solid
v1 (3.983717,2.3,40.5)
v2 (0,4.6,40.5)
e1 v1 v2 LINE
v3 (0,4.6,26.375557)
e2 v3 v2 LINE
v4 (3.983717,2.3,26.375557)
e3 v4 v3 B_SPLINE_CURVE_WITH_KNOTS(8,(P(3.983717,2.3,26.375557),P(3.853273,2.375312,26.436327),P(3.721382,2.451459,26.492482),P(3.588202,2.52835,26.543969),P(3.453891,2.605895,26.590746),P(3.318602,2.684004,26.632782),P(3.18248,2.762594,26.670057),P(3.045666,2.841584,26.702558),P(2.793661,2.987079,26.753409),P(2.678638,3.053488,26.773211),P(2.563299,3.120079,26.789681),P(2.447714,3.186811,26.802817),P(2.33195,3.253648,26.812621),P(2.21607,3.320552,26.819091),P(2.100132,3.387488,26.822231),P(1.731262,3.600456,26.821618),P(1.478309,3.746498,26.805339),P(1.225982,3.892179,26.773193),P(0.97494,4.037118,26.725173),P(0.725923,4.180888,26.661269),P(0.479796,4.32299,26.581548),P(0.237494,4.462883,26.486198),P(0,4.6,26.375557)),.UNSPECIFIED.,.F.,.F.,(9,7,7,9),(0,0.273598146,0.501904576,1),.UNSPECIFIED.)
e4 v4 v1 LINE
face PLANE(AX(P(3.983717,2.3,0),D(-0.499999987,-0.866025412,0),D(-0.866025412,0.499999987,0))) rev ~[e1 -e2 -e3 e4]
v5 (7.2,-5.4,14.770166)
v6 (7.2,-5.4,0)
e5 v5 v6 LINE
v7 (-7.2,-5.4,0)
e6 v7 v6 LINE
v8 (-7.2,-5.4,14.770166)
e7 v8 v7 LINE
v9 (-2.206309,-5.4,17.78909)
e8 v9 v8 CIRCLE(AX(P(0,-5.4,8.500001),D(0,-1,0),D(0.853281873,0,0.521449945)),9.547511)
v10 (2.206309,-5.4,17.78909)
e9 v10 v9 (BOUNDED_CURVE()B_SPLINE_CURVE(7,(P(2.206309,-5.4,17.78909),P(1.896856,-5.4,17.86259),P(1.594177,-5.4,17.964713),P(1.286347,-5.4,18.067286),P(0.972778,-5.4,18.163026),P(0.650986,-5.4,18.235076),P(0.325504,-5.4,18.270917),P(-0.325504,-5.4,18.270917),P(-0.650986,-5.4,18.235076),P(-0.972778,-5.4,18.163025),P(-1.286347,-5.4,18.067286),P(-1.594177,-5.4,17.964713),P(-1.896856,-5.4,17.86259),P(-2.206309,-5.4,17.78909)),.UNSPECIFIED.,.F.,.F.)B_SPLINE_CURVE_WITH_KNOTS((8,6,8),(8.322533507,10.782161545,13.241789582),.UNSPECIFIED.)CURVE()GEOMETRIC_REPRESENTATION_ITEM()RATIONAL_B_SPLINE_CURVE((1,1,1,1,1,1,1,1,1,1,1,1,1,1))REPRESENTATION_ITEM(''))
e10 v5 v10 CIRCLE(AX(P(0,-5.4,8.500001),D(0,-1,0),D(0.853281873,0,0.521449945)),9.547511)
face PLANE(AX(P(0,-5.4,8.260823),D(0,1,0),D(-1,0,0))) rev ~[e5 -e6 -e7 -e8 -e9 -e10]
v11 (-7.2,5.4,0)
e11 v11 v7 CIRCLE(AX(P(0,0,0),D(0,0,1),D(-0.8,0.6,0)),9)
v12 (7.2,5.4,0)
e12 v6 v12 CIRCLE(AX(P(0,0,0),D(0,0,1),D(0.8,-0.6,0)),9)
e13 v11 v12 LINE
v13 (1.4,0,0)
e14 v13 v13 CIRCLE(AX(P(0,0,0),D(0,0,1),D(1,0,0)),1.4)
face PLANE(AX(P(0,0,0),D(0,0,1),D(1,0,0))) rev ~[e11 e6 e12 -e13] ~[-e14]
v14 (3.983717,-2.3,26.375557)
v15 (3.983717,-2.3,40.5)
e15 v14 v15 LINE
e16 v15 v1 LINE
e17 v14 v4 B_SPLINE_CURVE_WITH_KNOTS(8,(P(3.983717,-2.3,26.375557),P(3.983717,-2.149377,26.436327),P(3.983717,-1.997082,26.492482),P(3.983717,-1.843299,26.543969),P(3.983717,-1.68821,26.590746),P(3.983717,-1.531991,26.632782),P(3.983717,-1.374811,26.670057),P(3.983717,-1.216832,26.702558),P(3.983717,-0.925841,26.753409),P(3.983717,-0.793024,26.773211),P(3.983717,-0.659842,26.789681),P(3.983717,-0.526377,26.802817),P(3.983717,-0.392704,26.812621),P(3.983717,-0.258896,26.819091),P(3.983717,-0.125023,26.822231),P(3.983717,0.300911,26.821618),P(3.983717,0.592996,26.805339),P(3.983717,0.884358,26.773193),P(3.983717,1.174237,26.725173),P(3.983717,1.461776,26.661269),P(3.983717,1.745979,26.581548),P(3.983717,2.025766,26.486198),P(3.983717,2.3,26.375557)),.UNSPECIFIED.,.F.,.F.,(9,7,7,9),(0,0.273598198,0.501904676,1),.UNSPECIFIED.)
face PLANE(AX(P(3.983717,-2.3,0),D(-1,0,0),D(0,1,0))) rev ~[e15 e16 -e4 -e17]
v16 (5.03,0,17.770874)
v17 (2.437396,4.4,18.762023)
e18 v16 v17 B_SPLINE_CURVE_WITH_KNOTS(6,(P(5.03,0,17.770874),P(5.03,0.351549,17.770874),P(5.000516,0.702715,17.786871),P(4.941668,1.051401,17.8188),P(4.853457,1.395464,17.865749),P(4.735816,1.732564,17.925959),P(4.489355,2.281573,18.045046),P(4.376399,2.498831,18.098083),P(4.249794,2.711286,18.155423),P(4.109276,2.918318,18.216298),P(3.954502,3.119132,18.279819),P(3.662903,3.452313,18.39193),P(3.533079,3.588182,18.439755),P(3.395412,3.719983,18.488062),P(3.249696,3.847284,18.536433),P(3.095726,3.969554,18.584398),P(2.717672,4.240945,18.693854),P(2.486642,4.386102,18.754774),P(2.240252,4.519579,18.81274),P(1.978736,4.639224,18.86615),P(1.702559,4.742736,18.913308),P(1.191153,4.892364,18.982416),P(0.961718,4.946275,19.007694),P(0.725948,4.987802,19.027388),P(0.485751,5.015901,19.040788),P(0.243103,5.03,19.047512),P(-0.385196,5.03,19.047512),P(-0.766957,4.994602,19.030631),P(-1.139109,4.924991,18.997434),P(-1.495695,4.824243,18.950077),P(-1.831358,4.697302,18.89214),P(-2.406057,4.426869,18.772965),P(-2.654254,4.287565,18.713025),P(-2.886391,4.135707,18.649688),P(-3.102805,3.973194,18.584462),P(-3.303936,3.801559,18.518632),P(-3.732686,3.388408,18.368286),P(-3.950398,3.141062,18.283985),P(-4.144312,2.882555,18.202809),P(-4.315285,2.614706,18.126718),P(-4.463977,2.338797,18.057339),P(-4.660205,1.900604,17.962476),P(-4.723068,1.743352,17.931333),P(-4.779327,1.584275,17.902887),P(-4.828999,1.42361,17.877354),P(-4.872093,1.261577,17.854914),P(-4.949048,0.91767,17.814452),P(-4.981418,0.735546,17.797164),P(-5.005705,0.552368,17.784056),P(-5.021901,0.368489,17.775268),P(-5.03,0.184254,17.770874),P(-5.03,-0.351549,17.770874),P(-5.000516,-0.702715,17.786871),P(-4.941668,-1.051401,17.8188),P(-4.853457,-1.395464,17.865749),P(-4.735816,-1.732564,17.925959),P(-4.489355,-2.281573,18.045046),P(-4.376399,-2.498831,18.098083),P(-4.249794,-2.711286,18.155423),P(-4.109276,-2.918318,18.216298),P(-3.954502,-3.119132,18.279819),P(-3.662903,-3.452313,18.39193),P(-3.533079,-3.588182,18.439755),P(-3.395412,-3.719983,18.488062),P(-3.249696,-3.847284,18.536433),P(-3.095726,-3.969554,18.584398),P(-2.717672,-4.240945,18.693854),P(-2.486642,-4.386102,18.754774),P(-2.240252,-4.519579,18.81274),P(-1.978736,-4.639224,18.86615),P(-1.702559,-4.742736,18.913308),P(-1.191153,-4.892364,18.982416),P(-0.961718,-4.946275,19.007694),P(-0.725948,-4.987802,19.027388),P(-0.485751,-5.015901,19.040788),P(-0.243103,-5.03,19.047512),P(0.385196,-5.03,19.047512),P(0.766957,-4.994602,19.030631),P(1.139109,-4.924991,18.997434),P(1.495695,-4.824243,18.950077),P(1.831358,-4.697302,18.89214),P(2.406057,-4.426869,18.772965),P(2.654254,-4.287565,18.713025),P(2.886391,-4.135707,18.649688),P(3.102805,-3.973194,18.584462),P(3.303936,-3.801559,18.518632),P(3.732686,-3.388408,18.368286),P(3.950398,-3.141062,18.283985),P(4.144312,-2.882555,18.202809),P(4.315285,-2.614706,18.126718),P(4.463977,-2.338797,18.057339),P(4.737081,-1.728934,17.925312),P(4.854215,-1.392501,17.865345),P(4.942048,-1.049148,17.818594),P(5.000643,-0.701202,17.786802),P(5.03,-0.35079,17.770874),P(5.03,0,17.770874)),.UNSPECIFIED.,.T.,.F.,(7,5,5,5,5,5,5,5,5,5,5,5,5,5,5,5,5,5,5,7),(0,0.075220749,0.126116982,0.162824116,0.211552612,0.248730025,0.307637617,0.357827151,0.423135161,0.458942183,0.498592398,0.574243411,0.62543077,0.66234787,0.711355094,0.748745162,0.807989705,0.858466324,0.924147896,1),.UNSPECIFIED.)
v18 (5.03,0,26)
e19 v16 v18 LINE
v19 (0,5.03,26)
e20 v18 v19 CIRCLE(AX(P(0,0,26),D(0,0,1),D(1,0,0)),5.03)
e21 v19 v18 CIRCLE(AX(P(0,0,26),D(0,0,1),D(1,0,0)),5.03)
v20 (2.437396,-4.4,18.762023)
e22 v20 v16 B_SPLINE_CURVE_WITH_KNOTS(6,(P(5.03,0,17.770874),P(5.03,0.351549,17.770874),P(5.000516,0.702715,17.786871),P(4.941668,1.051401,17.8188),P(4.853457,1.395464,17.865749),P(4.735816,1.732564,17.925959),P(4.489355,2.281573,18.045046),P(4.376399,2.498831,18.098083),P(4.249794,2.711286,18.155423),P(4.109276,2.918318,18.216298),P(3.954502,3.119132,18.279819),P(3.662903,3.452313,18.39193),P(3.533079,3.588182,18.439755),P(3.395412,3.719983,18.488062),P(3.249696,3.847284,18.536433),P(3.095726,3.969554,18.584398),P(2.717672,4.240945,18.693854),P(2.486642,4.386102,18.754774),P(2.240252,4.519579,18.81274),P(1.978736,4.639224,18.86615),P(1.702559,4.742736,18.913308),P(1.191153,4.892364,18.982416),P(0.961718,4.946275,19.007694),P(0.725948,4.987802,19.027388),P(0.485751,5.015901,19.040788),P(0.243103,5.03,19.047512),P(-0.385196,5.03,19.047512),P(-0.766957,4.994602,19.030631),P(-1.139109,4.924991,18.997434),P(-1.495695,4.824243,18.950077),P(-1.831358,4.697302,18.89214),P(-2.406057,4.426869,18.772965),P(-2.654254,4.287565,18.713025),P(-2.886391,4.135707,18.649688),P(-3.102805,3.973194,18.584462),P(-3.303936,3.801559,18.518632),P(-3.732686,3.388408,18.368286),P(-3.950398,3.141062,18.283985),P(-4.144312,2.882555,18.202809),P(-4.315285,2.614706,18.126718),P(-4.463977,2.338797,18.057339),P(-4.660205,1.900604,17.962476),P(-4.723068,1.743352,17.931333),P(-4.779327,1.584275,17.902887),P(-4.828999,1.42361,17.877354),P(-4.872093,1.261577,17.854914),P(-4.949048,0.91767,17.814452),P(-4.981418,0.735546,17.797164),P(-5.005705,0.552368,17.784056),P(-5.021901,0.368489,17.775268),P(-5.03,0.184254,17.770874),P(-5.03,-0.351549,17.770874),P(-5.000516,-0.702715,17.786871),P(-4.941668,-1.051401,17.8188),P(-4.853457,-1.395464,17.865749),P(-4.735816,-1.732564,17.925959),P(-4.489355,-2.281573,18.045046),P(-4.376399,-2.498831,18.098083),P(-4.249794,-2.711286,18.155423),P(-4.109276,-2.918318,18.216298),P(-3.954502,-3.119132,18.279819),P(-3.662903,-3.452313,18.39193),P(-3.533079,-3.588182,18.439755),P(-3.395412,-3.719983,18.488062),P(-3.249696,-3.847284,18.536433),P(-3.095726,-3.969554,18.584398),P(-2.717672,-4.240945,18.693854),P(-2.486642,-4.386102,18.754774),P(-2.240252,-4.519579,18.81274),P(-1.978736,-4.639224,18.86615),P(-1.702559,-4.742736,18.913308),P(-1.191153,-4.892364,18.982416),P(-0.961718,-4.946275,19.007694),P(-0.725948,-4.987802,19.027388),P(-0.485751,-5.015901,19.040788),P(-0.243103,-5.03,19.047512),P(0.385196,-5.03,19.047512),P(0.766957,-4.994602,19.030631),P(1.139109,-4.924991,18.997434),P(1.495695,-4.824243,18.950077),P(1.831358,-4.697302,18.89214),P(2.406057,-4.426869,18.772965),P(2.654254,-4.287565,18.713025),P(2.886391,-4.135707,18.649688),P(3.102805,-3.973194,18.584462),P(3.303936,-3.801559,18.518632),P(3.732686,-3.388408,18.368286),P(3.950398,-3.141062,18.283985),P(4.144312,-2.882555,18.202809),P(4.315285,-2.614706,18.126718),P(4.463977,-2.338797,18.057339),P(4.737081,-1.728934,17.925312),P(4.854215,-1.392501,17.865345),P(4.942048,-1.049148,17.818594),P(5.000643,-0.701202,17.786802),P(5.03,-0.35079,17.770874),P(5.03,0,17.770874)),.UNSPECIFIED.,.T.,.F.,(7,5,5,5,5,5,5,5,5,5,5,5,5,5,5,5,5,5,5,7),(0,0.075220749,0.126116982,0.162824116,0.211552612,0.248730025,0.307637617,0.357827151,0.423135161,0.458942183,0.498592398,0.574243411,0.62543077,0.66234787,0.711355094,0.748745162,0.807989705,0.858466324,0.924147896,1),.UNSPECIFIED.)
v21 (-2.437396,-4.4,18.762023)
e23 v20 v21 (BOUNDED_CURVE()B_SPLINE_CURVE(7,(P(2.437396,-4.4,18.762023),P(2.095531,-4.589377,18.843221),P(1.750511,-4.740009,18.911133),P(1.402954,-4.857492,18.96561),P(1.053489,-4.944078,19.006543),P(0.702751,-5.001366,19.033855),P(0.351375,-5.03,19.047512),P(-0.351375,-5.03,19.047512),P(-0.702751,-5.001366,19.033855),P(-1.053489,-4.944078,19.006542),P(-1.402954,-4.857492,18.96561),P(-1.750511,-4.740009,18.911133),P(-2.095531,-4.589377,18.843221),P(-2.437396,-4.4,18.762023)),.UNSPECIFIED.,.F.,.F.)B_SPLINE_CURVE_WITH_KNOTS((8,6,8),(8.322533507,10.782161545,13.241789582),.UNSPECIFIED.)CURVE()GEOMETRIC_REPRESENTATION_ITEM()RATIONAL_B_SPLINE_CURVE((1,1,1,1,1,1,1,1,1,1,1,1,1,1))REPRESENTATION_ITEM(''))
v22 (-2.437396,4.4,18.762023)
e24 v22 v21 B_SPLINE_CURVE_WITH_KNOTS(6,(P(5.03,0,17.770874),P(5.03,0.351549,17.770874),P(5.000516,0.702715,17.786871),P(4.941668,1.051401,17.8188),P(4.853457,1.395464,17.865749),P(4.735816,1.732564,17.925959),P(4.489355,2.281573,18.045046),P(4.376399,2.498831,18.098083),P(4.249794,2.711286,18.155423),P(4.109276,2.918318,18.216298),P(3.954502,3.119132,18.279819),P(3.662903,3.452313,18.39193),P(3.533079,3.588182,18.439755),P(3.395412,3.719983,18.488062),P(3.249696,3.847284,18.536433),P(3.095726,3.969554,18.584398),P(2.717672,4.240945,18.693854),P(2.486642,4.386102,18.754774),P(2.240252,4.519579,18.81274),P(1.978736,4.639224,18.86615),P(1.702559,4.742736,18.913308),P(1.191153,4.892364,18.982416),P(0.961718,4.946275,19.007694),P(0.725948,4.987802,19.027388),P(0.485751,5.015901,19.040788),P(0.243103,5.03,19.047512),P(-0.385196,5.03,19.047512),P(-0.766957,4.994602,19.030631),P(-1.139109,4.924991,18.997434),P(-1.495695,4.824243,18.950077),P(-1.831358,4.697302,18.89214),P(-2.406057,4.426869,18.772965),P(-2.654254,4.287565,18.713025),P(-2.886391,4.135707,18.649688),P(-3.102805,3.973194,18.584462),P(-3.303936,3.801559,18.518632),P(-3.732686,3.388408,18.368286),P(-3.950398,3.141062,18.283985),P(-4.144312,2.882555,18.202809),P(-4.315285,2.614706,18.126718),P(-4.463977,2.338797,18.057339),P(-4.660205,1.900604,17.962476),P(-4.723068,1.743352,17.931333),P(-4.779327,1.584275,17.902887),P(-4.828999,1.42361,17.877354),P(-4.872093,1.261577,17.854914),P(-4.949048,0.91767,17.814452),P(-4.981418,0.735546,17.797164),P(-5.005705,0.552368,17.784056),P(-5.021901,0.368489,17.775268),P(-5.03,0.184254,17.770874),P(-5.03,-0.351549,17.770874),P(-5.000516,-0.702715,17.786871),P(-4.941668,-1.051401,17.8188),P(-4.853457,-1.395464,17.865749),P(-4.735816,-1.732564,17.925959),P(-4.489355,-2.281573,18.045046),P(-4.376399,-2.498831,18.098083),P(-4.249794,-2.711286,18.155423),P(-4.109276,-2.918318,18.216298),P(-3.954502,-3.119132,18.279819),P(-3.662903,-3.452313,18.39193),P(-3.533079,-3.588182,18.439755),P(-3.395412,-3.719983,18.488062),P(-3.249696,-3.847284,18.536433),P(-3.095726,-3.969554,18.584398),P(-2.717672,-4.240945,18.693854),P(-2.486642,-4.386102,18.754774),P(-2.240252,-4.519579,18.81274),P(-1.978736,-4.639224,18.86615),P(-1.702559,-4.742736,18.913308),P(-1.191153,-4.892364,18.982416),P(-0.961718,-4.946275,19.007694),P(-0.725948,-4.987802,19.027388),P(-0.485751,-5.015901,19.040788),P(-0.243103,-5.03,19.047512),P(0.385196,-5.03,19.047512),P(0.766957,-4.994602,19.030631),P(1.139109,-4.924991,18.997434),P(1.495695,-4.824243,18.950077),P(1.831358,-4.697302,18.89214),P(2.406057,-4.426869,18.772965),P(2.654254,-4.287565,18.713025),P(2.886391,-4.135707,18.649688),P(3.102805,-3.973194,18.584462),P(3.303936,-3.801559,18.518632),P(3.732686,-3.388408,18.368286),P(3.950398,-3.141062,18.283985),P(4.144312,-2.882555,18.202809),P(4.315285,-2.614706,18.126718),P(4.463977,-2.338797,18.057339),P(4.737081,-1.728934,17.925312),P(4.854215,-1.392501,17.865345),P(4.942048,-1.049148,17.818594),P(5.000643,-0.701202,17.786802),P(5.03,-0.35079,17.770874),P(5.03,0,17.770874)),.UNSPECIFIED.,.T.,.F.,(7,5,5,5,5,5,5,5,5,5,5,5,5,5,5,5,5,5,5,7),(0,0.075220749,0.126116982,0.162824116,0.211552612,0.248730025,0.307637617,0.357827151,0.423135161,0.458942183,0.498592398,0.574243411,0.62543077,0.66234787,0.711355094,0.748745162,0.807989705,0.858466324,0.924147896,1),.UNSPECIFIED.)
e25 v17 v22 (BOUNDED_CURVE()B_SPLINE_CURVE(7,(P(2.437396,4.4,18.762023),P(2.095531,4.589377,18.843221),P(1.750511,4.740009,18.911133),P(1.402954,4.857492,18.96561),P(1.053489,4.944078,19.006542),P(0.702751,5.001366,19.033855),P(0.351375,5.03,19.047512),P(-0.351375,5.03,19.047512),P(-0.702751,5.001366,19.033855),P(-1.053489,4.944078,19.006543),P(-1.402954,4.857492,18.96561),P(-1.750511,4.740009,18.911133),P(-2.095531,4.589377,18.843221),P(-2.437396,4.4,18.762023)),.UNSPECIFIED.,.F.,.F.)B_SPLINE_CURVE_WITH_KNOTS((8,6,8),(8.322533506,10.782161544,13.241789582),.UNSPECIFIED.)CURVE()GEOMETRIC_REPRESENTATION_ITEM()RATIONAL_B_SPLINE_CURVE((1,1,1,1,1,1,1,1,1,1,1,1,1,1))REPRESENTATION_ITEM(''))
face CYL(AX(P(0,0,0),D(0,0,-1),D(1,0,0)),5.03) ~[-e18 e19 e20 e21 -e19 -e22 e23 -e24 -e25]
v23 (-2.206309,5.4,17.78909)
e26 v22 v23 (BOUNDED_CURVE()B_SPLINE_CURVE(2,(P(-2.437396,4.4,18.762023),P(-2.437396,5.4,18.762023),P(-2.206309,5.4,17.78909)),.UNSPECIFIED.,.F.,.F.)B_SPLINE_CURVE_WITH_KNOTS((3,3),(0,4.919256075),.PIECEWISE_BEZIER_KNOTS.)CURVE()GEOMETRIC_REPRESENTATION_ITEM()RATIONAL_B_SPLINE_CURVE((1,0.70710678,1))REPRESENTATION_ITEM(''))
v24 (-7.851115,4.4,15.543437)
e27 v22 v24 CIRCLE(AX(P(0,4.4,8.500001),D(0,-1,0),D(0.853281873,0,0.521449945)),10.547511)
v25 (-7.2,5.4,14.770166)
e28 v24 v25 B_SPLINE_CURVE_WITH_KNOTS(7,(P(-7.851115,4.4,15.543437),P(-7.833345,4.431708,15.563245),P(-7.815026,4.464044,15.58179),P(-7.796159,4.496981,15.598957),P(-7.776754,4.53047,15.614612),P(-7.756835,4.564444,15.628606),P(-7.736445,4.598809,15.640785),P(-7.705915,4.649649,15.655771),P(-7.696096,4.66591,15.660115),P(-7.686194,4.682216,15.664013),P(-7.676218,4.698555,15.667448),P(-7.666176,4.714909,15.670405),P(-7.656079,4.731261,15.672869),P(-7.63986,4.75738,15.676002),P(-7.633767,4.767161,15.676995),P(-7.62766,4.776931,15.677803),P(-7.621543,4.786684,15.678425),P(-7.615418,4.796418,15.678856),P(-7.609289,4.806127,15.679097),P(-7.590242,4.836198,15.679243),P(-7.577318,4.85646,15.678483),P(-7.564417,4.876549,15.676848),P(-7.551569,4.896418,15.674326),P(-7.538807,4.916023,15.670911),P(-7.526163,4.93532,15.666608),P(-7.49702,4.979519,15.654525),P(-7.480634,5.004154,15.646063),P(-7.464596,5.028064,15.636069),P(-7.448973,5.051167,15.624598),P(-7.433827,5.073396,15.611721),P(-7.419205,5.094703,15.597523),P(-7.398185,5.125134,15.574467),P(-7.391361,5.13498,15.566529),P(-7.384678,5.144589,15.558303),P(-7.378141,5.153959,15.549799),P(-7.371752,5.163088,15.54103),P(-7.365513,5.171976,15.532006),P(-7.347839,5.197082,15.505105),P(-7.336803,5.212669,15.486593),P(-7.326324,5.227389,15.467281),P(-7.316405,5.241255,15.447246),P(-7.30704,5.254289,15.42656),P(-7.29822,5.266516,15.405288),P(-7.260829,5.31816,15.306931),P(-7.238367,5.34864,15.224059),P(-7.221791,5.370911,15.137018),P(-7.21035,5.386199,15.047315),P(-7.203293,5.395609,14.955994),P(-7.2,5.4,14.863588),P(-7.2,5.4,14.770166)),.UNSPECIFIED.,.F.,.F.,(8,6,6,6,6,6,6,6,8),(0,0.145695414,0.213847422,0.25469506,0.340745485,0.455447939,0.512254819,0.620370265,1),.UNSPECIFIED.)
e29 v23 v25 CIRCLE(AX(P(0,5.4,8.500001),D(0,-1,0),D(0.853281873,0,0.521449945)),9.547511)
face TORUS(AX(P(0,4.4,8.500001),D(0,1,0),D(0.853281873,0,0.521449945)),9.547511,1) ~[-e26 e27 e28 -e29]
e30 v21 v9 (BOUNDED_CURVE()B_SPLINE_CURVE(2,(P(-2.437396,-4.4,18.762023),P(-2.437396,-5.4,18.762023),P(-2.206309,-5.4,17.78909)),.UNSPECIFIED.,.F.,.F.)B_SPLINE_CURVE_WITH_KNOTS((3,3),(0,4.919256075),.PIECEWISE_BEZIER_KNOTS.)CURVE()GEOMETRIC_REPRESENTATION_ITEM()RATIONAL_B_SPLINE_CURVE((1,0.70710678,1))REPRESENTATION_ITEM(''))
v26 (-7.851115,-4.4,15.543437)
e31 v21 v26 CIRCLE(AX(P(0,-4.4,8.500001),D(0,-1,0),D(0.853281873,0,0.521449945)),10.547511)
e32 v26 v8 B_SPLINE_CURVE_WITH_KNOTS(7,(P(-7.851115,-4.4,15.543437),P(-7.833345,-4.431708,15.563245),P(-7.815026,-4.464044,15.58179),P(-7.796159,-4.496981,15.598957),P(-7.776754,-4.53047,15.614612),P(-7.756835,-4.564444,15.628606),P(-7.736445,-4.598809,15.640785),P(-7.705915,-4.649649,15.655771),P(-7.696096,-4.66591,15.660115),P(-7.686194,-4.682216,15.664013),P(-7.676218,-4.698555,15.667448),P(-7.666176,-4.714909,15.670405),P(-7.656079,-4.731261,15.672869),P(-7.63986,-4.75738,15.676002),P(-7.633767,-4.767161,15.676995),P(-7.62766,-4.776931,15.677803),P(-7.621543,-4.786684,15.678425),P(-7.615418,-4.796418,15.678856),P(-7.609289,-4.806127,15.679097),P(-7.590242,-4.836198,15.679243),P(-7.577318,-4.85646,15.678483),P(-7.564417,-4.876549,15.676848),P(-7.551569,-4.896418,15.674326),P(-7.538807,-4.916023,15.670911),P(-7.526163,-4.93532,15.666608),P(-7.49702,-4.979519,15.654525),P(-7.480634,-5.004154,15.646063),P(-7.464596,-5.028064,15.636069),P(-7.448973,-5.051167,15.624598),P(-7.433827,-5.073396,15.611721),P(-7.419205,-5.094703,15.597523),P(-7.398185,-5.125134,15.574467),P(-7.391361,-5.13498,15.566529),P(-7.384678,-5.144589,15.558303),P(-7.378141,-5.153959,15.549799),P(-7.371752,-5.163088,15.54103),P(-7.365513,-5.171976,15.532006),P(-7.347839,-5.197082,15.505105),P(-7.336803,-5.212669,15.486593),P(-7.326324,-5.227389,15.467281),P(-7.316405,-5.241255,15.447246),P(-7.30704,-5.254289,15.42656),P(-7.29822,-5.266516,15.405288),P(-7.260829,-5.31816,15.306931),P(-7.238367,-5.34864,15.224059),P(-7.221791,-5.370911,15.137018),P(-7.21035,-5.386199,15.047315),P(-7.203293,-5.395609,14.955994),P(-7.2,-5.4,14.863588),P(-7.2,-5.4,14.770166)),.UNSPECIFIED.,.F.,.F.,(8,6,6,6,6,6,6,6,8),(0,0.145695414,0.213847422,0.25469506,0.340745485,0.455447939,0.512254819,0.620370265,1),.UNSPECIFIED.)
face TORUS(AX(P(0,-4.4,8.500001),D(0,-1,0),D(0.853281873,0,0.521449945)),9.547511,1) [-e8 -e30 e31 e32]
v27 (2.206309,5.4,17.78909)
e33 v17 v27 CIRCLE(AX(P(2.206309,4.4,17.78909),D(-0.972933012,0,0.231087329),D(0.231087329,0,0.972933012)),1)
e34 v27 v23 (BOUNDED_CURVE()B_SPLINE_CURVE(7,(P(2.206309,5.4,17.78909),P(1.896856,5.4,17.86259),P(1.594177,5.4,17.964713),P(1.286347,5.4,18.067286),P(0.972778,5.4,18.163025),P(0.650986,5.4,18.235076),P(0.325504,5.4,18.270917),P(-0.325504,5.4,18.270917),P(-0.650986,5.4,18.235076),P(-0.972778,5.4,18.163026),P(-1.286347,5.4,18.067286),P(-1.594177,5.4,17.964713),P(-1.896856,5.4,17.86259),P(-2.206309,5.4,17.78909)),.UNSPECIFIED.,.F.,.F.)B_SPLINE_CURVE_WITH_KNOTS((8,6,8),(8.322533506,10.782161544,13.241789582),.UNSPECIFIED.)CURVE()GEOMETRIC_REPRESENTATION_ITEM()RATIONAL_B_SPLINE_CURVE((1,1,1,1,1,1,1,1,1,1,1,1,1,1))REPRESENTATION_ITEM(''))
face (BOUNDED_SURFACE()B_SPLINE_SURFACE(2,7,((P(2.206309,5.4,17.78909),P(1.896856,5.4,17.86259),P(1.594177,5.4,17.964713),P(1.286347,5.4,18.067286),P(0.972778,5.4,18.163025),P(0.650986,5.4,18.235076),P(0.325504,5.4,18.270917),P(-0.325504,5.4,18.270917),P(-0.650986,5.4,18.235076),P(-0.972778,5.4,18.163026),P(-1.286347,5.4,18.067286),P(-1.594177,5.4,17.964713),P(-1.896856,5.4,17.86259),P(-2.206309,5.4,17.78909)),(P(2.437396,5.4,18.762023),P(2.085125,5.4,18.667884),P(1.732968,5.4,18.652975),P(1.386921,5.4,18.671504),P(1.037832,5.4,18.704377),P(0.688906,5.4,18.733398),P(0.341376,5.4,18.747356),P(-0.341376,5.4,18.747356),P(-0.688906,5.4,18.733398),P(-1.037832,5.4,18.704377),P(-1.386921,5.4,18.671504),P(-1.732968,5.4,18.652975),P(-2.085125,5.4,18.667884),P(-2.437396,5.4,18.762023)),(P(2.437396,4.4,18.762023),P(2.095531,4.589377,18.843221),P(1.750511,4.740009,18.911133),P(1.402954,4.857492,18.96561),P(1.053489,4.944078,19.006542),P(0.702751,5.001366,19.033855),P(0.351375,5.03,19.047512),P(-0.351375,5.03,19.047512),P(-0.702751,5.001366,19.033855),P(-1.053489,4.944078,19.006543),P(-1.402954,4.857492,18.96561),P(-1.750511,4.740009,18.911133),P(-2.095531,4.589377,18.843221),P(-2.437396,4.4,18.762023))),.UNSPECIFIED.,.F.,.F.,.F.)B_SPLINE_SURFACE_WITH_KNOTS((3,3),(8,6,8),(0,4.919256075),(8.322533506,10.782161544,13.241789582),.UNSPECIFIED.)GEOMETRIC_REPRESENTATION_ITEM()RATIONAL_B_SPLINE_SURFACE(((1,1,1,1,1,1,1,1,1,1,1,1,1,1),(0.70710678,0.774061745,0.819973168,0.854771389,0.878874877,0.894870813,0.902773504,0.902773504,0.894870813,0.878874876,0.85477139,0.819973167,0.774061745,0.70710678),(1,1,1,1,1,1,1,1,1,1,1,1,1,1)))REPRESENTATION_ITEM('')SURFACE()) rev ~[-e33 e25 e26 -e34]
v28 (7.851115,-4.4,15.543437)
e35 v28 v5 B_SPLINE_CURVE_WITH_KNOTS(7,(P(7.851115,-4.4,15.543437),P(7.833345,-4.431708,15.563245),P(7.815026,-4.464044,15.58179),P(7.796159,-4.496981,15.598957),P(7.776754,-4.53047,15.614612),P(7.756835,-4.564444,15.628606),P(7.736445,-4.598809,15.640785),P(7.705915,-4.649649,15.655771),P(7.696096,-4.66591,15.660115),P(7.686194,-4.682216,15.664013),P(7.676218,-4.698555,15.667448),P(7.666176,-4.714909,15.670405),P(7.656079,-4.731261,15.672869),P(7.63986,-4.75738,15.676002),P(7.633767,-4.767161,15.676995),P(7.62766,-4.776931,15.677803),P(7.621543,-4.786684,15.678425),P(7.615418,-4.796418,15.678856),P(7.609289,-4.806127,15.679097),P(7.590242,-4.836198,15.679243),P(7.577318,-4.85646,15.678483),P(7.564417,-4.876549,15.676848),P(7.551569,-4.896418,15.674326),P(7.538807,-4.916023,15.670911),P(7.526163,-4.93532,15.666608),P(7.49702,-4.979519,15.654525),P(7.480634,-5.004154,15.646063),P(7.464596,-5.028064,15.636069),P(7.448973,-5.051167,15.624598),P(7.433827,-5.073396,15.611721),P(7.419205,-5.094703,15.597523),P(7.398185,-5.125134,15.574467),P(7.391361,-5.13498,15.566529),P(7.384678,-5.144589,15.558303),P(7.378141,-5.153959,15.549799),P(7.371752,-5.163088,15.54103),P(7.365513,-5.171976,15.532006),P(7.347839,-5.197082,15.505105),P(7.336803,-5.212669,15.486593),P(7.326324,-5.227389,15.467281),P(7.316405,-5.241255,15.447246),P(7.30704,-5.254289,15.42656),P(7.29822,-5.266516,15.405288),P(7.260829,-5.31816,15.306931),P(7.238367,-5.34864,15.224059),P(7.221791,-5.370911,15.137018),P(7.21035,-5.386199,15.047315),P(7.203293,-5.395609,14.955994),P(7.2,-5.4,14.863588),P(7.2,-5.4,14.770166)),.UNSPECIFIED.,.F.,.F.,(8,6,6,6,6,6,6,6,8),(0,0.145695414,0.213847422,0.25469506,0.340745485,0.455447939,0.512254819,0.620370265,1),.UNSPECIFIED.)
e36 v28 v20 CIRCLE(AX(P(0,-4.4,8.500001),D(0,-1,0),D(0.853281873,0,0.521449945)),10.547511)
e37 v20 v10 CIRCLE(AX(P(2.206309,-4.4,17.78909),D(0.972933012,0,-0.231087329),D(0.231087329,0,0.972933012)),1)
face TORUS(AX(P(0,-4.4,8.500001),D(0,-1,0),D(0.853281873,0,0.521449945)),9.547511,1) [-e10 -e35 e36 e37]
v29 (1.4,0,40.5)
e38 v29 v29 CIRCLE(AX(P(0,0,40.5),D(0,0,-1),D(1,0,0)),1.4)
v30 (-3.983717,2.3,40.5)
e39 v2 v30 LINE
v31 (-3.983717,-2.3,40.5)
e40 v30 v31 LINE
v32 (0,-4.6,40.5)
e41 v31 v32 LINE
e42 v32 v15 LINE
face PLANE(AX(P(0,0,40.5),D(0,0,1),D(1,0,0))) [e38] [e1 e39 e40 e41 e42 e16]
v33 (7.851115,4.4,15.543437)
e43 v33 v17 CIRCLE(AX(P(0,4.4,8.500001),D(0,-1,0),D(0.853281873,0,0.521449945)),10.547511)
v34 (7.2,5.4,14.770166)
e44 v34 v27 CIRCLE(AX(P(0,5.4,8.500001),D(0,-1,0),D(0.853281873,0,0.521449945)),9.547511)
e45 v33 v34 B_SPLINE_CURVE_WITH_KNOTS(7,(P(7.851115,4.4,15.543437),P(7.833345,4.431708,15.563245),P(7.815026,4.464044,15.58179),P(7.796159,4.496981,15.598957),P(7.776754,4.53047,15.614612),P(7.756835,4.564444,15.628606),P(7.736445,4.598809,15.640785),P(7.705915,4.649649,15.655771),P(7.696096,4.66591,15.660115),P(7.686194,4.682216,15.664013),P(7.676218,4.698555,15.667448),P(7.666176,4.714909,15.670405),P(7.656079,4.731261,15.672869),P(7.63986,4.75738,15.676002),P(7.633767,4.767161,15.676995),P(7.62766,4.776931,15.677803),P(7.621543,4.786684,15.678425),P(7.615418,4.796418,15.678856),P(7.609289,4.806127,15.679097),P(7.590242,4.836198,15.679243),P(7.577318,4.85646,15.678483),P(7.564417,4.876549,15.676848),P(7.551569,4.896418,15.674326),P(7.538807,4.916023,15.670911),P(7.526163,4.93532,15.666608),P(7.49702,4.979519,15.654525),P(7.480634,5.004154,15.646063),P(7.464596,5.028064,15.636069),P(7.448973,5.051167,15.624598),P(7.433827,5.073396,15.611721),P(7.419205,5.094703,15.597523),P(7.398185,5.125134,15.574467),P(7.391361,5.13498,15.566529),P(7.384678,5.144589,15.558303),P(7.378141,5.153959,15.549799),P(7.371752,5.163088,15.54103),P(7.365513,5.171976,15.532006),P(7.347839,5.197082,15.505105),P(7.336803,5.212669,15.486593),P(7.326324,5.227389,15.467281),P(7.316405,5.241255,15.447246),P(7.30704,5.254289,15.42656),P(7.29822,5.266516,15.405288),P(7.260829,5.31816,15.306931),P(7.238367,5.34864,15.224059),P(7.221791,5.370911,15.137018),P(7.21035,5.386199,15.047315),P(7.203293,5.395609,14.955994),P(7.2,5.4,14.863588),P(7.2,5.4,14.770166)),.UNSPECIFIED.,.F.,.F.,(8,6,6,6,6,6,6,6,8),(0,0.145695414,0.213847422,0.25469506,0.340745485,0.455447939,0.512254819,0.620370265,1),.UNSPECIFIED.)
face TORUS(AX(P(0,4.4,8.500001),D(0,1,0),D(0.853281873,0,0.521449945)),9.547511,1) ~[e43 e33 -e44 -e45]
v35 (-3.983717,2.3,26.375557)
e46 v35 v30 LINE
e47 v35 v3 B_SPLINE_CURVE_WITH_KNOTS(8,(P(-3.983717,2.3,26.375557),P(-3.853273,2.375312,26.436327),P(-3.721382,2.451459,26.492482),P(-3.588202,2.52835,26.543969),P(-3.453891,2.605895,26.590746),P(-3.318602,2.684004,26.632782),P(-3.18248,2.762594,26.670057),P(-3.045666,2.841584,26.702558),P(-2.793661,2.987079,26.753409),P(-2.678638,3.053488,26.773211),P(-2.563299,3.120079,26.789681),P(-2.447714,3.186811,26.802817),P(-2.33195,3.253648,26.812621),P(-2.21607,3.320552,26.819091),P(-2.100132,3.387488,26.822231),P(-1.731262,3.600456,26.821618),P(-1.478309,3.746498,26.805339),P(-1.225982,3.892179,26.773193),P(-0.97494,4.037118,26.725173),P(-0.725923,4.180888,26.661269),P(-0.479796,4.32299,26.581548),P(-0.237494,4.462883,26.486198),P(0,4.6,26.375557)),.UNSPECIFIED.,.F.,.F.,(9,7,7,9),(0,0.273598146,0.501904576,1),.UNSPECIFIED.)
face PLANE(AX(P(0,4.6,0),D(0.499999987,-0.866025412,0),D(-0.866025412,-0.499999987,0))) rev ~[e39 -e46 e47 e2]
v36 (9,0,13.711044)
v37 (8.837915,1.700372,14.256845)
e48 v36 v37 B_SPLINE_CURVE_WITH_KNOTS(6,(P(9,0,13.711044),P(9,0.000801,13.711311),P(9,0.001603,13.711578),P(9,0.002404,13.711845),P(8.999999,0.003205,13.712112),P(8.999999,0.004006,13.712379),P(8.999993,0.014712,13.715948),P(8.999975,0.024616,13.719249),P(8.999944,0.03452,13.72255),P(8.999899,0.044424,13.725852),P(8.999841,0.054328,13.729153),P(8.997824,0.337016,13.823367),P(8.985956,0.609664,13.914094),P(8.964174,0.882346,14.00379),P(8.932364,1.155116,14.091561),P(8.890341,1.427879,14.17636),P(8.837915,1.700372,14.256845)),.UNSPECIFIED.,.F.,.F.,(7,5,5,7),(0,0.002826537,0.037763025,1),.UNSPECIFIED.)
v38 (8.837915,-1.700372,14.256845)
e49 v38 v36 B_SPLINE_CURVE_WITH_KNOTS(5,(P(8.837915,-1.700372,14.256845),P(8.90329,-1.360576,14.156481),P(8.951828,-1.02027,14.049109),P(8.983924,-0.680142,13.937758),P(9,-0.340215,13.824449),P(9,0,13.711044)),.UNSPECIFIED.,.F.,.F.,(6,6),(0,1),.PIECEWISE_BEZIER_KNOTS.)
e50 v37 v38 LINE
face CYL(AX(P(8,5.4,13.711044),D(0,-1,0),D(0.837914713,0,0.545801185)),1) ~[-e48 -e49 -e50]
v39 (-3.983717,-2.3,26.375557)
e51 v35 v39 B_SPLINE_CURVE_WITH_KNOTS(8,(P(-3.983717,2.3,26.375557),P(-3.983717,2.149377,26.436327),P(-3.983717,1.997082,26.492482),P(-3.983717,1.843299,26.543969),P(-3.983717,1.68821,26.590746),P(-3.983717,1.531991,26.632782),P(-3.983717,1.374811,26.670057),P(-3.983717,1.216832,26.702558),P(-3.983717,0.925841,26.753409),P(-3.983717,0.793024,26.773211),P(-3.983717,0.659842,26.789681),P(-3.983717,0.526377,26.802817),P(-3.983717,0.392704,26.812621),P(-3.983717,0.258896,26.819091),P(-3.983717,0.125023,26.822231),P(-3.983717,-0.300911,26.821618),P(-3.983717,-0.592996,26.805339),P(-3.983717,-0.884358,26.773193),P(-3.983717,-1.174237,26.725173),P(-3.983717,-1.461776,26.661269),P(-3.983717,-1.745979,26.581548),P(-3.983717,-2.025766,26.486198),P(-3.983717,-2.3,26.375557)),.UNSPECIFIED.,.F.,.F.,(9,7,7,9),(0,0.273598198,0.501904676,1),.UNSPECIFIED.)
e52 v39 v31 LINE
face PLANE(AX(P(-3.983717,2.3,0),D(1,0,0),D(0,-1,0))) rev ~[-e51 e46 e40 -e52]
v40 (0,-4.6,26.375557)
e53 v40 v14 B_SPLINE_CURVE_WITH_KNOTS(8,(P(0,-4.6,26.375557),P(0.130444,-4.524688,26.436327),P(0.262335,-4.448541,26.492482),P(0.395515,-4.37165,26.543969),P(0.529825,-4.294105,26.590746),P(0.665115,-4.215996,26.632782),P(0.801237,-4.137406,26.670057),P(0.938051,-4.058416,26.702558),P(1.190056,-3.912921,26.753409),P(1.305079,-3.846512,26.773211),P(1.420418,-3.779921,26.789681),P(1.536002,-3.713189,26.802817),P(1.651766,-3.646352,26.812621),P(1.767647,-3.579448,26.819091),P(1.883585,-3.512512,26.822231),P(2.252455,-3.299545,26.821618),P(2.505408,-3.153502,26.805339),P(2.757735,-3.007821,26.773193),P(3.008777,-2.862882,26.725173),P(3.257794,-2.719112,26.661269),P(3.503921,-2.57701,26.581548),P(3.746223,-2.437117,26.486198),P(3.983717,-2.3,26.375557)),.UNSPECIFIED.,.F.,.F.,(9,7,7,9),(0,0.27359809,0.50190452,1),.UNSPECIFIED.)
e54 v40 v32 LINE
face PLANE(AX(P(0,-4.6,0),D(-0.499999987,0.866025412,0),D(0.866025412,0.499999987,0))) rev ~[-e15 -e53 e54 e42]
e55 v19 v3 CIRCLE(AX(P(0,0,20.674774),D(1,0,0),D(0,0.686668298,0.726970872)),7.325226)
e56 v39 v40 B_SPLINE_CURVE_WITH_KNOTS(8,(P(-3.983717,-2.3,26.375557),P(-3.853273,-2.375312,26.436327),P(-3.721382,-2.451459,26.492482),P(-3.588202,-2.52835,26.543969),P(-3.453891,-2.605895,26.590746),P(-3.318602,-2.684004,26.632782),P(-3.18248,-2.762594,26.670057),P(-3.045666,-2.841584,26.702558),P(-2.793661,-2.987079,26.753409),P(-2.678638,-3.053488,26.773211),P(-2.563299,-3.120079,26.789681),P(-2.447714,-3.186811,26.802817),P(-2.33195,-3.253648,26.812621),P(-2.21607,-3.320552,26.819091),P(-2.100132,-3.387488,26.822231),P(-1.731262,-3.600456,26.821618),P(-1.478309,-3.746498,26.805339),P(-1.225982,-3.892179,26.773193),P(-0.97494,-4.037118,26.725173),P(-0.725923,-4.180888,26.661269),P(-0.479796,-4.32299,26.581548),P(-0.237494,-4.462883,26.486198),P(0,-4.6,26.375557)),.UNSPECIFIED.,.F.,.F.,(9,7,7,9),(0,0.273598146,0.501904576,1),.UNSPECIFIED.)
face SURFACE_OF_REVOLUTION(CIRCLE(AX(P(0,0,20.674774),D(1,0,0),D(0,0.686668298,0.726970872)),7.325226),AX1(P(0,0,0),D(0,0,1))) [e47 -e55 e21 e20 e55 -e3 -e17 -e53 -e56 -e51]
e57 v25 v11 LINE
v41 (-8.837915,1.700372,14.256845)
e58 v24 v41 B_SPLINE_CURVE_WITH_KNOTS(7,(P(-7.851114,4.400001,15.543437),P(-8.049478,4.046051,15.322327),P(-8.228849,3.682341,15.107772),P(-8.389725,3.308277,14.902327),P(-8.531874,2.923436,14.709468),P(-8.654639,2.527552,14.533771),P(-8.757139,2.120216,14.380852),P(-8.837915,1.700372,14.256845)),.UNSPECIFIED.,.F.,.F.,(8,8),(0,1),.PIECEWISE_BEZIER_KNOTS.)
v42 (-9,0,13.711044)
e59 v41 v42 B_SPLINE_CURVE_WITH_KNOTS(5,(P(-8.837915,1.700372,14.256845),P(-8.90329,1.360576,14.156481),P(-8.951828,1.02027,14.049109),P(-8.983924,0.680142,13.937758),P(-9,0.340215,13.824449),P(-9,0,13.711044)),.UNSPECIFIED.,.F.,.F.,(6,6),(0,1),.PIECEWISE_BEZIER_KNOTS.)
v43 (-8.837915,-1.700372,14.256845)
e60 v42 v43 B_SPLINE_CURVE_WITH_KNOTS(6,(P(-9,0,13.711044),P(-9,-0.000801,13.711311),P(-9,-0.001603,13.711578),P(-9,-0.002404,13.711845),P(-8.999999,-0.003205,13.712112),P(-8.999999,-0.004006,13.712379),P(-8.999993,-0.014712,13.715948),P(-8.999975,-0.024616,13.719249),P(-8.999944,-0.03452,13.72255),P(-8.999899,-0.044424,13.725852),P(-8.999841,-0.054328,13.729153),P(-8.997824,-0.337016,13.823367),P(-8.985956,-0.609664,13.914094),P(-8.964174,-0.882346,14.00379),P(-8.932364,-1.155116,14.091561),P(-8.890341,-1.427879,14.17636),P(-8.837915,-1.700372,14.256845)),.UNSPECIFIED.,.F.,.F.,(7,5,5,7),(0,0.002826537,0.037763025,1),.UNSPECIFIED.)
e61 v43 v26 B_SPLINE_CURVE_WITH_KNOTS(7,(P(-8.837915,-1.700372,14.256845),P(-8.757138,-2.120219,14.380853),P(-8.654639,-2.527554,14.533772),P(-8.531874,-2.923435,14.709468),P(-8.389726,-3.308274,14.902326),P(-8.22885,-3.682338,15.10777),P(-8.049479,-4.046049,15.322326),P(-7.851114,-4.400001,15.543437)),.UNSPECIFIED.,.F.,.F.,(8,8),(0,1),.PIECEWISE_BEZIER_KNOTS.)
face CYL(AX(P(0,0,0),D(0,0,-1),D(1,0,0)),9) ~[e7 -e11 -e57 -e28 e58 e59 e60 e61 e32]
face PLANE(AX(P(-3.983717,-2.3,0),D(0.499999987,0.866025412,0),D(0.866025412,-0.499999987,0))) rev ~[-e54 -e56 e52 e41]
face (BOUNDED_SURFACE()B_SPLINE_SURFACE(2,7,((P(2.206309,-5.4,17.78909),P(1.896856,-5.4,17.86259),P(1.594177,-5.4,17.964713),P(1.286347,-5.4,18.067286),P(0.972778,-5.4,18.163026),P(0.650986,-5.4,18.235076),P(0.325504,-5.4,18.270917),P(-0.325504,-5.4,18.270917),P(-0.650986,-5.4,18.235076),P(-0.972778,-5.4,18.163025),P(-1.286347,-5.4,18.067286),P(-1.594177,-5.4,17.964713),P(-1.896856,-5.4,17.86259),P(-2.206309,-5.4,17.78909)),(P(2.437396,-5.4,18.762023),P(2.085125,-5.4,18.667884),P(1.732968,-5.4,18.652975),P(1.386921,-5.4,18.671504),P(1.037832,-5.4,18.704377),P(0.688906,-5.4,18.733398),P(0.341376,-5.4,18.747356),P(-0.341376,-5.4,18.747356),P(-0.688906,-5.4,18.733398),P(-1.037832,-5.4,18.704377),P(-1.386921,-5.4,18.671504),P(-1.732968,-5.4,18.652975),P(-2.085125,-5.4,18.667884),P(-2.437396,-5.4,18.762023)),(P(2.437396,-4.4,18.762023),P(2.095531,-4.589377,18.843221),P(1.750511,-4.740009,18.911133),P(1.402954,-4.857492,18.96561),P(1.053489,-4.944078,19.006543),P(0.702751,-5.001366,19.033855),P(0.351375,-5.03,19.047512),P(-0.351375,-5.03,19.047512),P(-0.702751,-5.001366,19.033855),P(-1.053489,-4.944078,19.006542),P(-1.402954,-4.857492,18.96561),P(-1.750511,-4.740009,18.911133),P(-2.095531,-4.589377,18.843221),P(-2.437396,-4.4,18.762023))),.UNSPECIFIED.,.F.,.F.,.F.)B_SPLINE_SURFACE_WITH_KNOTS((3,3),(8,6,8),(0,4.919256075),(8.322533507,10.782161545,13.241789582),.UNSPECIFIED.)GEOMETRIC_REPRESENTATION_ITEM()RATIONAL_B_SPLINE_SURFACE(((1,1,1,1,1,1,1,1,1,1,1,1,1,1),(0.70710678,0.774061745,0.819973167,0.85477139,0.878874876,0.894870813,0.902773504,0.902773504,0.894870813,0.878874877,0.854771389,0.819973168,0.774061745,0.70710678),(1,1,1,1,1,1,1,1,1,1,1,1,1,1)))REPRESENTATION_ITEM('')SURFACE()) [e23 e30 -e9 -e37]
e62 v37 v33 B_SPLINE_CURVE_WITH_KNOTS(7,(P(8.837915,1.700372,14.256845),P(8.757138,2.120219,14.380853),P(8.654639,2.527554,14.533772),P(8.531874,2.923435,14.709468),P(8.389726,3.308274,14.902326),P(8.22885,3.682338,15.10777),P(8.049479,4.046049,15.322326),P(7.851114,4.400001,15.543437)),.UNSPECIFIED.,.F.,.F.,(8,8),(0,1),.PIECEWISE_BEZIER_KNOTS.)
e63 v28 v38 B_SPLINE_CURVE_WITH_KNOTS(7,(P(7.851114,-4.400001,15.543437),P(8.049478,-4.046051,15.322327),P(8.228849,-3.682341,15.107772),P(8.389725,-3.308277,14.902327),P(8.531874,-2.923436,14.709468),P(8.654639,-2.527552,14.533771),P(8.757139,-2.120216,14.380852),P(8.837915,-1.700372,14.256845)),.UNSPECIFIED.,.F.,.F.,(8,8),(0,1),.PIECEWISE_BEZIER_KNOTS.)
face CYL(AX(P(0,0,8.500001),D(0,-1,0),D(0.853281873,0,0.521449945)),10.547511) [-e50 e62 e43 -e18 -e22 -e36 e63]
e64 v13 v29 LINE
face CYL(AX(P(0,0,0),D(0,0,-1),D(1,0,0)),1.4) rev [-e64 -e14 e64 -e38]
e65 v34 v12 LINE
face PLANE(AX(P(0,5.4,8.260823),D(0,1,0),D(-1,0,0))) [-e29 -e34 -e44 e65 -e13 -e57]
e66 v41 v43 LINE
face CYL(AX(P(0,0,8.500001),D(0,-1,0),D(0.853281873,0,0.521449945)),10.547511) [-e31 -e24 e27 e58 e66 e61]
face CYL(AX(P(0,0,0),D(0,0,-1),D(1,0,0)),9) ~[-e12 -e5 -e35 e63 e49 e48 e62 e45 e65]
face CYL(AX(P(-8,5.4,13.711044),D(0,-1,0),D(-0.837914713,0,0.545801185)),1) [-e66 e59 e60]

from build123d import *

# Parameters (mm, degrees)
PAD009_DEPTH         = 5.4
SKETCH014_R          = 5.03
PAD010_DEPTH         = 26
PAD011_DEPTH         = 40.5
SKETCH018_R          = 1.4
POCKET005_DEPTH      = 0.001
POCKET005_DEPTH_BACK = 40.501
FILLET003_R          = 1
SKETCH031_R          = 14.133118
SKETCH031_R_2        = 9
POCKET010_DEPTH      = 40.501


with BuildPart() as part:
    # Sketch013 → Pad009 (new body, symmetric)
    with BuildSketch(Plane.XZ):
        with BuildLine():
            Line((9, 14), (9, 0))
            Line((-9, 0), (9, 0))
            Line((-9, 0), (-9, 14))
            ThreePointArc((9, 14), (0, 19.047512), (-9, 14))
        make_face()
    extrude(amount=PAD009_DEPTH, both=True)

    # Sketch014 → Pad010 (join)
    with BuildSketch(Plane.XY):
        Circle(SKETCH014_R)
    extrude(amount=PAD010_DEPTH)

    # Sketch015 → Pad011 (join)
    with BuildSketch(Plane.XY):
        Polygon((0, 4.6), (-3.983717, 2.3), (-3.983717, -2.3), (0, -4.6), (3.983717, -2.3), (3.983717, 2.3), align=None)
    extrude(amount=PAD011_DEPTH)

    # Sketch017 → Revolution002 (revolve)
    with BuildSketch(Plane.YZ):
        with BuildLine():
            Line((0, 26), (5.03, 26))
            ThreePointArc((5.03, 26), (2.706515, 27.481661), (0, 28))
            Line((0, 26), (0, 28))
        make_face()
    revolve(axis=Axis((0, 0, 0), (0, 0, 1)))

    # Sketch018 → Pocket005 (cut, two sides)
    with BuildSketch(Plane.XY) as pocket005_sk:
        Circle(SKETCH018_R)
    extrude(amount=-POCKET005_DEPTH, mode=Mode.SUBTRACT)
    extrude(pocket005_sk.sketch, amount=POCKET005_DEPTH_BACK, mode=Mode.SUBTRACT)

    # Fillet003
    fillet003_edges = [part.edges().sort_by_distance(p)[0] for p in [
        (0, 5.4, 19.047512),
        (0, -5.4, 19.047512),
        (-9, 0, 14),
        (9, 0, 14),
    ]]
    fillet(fillet003_edges, radius=FILLET003_R)

    # Sketch031 → Pocket010 (cut, through all)
    with BuildSketch(Plane.XY):
        Circle(SKETCH031_R)
        Circle(SKETCH031_R_2, mode=Mode.SUBTRACT)
    extrude(amount=POCKET010_DEPTH, mode=Mode.SUBTRACT)


solid = part.part
